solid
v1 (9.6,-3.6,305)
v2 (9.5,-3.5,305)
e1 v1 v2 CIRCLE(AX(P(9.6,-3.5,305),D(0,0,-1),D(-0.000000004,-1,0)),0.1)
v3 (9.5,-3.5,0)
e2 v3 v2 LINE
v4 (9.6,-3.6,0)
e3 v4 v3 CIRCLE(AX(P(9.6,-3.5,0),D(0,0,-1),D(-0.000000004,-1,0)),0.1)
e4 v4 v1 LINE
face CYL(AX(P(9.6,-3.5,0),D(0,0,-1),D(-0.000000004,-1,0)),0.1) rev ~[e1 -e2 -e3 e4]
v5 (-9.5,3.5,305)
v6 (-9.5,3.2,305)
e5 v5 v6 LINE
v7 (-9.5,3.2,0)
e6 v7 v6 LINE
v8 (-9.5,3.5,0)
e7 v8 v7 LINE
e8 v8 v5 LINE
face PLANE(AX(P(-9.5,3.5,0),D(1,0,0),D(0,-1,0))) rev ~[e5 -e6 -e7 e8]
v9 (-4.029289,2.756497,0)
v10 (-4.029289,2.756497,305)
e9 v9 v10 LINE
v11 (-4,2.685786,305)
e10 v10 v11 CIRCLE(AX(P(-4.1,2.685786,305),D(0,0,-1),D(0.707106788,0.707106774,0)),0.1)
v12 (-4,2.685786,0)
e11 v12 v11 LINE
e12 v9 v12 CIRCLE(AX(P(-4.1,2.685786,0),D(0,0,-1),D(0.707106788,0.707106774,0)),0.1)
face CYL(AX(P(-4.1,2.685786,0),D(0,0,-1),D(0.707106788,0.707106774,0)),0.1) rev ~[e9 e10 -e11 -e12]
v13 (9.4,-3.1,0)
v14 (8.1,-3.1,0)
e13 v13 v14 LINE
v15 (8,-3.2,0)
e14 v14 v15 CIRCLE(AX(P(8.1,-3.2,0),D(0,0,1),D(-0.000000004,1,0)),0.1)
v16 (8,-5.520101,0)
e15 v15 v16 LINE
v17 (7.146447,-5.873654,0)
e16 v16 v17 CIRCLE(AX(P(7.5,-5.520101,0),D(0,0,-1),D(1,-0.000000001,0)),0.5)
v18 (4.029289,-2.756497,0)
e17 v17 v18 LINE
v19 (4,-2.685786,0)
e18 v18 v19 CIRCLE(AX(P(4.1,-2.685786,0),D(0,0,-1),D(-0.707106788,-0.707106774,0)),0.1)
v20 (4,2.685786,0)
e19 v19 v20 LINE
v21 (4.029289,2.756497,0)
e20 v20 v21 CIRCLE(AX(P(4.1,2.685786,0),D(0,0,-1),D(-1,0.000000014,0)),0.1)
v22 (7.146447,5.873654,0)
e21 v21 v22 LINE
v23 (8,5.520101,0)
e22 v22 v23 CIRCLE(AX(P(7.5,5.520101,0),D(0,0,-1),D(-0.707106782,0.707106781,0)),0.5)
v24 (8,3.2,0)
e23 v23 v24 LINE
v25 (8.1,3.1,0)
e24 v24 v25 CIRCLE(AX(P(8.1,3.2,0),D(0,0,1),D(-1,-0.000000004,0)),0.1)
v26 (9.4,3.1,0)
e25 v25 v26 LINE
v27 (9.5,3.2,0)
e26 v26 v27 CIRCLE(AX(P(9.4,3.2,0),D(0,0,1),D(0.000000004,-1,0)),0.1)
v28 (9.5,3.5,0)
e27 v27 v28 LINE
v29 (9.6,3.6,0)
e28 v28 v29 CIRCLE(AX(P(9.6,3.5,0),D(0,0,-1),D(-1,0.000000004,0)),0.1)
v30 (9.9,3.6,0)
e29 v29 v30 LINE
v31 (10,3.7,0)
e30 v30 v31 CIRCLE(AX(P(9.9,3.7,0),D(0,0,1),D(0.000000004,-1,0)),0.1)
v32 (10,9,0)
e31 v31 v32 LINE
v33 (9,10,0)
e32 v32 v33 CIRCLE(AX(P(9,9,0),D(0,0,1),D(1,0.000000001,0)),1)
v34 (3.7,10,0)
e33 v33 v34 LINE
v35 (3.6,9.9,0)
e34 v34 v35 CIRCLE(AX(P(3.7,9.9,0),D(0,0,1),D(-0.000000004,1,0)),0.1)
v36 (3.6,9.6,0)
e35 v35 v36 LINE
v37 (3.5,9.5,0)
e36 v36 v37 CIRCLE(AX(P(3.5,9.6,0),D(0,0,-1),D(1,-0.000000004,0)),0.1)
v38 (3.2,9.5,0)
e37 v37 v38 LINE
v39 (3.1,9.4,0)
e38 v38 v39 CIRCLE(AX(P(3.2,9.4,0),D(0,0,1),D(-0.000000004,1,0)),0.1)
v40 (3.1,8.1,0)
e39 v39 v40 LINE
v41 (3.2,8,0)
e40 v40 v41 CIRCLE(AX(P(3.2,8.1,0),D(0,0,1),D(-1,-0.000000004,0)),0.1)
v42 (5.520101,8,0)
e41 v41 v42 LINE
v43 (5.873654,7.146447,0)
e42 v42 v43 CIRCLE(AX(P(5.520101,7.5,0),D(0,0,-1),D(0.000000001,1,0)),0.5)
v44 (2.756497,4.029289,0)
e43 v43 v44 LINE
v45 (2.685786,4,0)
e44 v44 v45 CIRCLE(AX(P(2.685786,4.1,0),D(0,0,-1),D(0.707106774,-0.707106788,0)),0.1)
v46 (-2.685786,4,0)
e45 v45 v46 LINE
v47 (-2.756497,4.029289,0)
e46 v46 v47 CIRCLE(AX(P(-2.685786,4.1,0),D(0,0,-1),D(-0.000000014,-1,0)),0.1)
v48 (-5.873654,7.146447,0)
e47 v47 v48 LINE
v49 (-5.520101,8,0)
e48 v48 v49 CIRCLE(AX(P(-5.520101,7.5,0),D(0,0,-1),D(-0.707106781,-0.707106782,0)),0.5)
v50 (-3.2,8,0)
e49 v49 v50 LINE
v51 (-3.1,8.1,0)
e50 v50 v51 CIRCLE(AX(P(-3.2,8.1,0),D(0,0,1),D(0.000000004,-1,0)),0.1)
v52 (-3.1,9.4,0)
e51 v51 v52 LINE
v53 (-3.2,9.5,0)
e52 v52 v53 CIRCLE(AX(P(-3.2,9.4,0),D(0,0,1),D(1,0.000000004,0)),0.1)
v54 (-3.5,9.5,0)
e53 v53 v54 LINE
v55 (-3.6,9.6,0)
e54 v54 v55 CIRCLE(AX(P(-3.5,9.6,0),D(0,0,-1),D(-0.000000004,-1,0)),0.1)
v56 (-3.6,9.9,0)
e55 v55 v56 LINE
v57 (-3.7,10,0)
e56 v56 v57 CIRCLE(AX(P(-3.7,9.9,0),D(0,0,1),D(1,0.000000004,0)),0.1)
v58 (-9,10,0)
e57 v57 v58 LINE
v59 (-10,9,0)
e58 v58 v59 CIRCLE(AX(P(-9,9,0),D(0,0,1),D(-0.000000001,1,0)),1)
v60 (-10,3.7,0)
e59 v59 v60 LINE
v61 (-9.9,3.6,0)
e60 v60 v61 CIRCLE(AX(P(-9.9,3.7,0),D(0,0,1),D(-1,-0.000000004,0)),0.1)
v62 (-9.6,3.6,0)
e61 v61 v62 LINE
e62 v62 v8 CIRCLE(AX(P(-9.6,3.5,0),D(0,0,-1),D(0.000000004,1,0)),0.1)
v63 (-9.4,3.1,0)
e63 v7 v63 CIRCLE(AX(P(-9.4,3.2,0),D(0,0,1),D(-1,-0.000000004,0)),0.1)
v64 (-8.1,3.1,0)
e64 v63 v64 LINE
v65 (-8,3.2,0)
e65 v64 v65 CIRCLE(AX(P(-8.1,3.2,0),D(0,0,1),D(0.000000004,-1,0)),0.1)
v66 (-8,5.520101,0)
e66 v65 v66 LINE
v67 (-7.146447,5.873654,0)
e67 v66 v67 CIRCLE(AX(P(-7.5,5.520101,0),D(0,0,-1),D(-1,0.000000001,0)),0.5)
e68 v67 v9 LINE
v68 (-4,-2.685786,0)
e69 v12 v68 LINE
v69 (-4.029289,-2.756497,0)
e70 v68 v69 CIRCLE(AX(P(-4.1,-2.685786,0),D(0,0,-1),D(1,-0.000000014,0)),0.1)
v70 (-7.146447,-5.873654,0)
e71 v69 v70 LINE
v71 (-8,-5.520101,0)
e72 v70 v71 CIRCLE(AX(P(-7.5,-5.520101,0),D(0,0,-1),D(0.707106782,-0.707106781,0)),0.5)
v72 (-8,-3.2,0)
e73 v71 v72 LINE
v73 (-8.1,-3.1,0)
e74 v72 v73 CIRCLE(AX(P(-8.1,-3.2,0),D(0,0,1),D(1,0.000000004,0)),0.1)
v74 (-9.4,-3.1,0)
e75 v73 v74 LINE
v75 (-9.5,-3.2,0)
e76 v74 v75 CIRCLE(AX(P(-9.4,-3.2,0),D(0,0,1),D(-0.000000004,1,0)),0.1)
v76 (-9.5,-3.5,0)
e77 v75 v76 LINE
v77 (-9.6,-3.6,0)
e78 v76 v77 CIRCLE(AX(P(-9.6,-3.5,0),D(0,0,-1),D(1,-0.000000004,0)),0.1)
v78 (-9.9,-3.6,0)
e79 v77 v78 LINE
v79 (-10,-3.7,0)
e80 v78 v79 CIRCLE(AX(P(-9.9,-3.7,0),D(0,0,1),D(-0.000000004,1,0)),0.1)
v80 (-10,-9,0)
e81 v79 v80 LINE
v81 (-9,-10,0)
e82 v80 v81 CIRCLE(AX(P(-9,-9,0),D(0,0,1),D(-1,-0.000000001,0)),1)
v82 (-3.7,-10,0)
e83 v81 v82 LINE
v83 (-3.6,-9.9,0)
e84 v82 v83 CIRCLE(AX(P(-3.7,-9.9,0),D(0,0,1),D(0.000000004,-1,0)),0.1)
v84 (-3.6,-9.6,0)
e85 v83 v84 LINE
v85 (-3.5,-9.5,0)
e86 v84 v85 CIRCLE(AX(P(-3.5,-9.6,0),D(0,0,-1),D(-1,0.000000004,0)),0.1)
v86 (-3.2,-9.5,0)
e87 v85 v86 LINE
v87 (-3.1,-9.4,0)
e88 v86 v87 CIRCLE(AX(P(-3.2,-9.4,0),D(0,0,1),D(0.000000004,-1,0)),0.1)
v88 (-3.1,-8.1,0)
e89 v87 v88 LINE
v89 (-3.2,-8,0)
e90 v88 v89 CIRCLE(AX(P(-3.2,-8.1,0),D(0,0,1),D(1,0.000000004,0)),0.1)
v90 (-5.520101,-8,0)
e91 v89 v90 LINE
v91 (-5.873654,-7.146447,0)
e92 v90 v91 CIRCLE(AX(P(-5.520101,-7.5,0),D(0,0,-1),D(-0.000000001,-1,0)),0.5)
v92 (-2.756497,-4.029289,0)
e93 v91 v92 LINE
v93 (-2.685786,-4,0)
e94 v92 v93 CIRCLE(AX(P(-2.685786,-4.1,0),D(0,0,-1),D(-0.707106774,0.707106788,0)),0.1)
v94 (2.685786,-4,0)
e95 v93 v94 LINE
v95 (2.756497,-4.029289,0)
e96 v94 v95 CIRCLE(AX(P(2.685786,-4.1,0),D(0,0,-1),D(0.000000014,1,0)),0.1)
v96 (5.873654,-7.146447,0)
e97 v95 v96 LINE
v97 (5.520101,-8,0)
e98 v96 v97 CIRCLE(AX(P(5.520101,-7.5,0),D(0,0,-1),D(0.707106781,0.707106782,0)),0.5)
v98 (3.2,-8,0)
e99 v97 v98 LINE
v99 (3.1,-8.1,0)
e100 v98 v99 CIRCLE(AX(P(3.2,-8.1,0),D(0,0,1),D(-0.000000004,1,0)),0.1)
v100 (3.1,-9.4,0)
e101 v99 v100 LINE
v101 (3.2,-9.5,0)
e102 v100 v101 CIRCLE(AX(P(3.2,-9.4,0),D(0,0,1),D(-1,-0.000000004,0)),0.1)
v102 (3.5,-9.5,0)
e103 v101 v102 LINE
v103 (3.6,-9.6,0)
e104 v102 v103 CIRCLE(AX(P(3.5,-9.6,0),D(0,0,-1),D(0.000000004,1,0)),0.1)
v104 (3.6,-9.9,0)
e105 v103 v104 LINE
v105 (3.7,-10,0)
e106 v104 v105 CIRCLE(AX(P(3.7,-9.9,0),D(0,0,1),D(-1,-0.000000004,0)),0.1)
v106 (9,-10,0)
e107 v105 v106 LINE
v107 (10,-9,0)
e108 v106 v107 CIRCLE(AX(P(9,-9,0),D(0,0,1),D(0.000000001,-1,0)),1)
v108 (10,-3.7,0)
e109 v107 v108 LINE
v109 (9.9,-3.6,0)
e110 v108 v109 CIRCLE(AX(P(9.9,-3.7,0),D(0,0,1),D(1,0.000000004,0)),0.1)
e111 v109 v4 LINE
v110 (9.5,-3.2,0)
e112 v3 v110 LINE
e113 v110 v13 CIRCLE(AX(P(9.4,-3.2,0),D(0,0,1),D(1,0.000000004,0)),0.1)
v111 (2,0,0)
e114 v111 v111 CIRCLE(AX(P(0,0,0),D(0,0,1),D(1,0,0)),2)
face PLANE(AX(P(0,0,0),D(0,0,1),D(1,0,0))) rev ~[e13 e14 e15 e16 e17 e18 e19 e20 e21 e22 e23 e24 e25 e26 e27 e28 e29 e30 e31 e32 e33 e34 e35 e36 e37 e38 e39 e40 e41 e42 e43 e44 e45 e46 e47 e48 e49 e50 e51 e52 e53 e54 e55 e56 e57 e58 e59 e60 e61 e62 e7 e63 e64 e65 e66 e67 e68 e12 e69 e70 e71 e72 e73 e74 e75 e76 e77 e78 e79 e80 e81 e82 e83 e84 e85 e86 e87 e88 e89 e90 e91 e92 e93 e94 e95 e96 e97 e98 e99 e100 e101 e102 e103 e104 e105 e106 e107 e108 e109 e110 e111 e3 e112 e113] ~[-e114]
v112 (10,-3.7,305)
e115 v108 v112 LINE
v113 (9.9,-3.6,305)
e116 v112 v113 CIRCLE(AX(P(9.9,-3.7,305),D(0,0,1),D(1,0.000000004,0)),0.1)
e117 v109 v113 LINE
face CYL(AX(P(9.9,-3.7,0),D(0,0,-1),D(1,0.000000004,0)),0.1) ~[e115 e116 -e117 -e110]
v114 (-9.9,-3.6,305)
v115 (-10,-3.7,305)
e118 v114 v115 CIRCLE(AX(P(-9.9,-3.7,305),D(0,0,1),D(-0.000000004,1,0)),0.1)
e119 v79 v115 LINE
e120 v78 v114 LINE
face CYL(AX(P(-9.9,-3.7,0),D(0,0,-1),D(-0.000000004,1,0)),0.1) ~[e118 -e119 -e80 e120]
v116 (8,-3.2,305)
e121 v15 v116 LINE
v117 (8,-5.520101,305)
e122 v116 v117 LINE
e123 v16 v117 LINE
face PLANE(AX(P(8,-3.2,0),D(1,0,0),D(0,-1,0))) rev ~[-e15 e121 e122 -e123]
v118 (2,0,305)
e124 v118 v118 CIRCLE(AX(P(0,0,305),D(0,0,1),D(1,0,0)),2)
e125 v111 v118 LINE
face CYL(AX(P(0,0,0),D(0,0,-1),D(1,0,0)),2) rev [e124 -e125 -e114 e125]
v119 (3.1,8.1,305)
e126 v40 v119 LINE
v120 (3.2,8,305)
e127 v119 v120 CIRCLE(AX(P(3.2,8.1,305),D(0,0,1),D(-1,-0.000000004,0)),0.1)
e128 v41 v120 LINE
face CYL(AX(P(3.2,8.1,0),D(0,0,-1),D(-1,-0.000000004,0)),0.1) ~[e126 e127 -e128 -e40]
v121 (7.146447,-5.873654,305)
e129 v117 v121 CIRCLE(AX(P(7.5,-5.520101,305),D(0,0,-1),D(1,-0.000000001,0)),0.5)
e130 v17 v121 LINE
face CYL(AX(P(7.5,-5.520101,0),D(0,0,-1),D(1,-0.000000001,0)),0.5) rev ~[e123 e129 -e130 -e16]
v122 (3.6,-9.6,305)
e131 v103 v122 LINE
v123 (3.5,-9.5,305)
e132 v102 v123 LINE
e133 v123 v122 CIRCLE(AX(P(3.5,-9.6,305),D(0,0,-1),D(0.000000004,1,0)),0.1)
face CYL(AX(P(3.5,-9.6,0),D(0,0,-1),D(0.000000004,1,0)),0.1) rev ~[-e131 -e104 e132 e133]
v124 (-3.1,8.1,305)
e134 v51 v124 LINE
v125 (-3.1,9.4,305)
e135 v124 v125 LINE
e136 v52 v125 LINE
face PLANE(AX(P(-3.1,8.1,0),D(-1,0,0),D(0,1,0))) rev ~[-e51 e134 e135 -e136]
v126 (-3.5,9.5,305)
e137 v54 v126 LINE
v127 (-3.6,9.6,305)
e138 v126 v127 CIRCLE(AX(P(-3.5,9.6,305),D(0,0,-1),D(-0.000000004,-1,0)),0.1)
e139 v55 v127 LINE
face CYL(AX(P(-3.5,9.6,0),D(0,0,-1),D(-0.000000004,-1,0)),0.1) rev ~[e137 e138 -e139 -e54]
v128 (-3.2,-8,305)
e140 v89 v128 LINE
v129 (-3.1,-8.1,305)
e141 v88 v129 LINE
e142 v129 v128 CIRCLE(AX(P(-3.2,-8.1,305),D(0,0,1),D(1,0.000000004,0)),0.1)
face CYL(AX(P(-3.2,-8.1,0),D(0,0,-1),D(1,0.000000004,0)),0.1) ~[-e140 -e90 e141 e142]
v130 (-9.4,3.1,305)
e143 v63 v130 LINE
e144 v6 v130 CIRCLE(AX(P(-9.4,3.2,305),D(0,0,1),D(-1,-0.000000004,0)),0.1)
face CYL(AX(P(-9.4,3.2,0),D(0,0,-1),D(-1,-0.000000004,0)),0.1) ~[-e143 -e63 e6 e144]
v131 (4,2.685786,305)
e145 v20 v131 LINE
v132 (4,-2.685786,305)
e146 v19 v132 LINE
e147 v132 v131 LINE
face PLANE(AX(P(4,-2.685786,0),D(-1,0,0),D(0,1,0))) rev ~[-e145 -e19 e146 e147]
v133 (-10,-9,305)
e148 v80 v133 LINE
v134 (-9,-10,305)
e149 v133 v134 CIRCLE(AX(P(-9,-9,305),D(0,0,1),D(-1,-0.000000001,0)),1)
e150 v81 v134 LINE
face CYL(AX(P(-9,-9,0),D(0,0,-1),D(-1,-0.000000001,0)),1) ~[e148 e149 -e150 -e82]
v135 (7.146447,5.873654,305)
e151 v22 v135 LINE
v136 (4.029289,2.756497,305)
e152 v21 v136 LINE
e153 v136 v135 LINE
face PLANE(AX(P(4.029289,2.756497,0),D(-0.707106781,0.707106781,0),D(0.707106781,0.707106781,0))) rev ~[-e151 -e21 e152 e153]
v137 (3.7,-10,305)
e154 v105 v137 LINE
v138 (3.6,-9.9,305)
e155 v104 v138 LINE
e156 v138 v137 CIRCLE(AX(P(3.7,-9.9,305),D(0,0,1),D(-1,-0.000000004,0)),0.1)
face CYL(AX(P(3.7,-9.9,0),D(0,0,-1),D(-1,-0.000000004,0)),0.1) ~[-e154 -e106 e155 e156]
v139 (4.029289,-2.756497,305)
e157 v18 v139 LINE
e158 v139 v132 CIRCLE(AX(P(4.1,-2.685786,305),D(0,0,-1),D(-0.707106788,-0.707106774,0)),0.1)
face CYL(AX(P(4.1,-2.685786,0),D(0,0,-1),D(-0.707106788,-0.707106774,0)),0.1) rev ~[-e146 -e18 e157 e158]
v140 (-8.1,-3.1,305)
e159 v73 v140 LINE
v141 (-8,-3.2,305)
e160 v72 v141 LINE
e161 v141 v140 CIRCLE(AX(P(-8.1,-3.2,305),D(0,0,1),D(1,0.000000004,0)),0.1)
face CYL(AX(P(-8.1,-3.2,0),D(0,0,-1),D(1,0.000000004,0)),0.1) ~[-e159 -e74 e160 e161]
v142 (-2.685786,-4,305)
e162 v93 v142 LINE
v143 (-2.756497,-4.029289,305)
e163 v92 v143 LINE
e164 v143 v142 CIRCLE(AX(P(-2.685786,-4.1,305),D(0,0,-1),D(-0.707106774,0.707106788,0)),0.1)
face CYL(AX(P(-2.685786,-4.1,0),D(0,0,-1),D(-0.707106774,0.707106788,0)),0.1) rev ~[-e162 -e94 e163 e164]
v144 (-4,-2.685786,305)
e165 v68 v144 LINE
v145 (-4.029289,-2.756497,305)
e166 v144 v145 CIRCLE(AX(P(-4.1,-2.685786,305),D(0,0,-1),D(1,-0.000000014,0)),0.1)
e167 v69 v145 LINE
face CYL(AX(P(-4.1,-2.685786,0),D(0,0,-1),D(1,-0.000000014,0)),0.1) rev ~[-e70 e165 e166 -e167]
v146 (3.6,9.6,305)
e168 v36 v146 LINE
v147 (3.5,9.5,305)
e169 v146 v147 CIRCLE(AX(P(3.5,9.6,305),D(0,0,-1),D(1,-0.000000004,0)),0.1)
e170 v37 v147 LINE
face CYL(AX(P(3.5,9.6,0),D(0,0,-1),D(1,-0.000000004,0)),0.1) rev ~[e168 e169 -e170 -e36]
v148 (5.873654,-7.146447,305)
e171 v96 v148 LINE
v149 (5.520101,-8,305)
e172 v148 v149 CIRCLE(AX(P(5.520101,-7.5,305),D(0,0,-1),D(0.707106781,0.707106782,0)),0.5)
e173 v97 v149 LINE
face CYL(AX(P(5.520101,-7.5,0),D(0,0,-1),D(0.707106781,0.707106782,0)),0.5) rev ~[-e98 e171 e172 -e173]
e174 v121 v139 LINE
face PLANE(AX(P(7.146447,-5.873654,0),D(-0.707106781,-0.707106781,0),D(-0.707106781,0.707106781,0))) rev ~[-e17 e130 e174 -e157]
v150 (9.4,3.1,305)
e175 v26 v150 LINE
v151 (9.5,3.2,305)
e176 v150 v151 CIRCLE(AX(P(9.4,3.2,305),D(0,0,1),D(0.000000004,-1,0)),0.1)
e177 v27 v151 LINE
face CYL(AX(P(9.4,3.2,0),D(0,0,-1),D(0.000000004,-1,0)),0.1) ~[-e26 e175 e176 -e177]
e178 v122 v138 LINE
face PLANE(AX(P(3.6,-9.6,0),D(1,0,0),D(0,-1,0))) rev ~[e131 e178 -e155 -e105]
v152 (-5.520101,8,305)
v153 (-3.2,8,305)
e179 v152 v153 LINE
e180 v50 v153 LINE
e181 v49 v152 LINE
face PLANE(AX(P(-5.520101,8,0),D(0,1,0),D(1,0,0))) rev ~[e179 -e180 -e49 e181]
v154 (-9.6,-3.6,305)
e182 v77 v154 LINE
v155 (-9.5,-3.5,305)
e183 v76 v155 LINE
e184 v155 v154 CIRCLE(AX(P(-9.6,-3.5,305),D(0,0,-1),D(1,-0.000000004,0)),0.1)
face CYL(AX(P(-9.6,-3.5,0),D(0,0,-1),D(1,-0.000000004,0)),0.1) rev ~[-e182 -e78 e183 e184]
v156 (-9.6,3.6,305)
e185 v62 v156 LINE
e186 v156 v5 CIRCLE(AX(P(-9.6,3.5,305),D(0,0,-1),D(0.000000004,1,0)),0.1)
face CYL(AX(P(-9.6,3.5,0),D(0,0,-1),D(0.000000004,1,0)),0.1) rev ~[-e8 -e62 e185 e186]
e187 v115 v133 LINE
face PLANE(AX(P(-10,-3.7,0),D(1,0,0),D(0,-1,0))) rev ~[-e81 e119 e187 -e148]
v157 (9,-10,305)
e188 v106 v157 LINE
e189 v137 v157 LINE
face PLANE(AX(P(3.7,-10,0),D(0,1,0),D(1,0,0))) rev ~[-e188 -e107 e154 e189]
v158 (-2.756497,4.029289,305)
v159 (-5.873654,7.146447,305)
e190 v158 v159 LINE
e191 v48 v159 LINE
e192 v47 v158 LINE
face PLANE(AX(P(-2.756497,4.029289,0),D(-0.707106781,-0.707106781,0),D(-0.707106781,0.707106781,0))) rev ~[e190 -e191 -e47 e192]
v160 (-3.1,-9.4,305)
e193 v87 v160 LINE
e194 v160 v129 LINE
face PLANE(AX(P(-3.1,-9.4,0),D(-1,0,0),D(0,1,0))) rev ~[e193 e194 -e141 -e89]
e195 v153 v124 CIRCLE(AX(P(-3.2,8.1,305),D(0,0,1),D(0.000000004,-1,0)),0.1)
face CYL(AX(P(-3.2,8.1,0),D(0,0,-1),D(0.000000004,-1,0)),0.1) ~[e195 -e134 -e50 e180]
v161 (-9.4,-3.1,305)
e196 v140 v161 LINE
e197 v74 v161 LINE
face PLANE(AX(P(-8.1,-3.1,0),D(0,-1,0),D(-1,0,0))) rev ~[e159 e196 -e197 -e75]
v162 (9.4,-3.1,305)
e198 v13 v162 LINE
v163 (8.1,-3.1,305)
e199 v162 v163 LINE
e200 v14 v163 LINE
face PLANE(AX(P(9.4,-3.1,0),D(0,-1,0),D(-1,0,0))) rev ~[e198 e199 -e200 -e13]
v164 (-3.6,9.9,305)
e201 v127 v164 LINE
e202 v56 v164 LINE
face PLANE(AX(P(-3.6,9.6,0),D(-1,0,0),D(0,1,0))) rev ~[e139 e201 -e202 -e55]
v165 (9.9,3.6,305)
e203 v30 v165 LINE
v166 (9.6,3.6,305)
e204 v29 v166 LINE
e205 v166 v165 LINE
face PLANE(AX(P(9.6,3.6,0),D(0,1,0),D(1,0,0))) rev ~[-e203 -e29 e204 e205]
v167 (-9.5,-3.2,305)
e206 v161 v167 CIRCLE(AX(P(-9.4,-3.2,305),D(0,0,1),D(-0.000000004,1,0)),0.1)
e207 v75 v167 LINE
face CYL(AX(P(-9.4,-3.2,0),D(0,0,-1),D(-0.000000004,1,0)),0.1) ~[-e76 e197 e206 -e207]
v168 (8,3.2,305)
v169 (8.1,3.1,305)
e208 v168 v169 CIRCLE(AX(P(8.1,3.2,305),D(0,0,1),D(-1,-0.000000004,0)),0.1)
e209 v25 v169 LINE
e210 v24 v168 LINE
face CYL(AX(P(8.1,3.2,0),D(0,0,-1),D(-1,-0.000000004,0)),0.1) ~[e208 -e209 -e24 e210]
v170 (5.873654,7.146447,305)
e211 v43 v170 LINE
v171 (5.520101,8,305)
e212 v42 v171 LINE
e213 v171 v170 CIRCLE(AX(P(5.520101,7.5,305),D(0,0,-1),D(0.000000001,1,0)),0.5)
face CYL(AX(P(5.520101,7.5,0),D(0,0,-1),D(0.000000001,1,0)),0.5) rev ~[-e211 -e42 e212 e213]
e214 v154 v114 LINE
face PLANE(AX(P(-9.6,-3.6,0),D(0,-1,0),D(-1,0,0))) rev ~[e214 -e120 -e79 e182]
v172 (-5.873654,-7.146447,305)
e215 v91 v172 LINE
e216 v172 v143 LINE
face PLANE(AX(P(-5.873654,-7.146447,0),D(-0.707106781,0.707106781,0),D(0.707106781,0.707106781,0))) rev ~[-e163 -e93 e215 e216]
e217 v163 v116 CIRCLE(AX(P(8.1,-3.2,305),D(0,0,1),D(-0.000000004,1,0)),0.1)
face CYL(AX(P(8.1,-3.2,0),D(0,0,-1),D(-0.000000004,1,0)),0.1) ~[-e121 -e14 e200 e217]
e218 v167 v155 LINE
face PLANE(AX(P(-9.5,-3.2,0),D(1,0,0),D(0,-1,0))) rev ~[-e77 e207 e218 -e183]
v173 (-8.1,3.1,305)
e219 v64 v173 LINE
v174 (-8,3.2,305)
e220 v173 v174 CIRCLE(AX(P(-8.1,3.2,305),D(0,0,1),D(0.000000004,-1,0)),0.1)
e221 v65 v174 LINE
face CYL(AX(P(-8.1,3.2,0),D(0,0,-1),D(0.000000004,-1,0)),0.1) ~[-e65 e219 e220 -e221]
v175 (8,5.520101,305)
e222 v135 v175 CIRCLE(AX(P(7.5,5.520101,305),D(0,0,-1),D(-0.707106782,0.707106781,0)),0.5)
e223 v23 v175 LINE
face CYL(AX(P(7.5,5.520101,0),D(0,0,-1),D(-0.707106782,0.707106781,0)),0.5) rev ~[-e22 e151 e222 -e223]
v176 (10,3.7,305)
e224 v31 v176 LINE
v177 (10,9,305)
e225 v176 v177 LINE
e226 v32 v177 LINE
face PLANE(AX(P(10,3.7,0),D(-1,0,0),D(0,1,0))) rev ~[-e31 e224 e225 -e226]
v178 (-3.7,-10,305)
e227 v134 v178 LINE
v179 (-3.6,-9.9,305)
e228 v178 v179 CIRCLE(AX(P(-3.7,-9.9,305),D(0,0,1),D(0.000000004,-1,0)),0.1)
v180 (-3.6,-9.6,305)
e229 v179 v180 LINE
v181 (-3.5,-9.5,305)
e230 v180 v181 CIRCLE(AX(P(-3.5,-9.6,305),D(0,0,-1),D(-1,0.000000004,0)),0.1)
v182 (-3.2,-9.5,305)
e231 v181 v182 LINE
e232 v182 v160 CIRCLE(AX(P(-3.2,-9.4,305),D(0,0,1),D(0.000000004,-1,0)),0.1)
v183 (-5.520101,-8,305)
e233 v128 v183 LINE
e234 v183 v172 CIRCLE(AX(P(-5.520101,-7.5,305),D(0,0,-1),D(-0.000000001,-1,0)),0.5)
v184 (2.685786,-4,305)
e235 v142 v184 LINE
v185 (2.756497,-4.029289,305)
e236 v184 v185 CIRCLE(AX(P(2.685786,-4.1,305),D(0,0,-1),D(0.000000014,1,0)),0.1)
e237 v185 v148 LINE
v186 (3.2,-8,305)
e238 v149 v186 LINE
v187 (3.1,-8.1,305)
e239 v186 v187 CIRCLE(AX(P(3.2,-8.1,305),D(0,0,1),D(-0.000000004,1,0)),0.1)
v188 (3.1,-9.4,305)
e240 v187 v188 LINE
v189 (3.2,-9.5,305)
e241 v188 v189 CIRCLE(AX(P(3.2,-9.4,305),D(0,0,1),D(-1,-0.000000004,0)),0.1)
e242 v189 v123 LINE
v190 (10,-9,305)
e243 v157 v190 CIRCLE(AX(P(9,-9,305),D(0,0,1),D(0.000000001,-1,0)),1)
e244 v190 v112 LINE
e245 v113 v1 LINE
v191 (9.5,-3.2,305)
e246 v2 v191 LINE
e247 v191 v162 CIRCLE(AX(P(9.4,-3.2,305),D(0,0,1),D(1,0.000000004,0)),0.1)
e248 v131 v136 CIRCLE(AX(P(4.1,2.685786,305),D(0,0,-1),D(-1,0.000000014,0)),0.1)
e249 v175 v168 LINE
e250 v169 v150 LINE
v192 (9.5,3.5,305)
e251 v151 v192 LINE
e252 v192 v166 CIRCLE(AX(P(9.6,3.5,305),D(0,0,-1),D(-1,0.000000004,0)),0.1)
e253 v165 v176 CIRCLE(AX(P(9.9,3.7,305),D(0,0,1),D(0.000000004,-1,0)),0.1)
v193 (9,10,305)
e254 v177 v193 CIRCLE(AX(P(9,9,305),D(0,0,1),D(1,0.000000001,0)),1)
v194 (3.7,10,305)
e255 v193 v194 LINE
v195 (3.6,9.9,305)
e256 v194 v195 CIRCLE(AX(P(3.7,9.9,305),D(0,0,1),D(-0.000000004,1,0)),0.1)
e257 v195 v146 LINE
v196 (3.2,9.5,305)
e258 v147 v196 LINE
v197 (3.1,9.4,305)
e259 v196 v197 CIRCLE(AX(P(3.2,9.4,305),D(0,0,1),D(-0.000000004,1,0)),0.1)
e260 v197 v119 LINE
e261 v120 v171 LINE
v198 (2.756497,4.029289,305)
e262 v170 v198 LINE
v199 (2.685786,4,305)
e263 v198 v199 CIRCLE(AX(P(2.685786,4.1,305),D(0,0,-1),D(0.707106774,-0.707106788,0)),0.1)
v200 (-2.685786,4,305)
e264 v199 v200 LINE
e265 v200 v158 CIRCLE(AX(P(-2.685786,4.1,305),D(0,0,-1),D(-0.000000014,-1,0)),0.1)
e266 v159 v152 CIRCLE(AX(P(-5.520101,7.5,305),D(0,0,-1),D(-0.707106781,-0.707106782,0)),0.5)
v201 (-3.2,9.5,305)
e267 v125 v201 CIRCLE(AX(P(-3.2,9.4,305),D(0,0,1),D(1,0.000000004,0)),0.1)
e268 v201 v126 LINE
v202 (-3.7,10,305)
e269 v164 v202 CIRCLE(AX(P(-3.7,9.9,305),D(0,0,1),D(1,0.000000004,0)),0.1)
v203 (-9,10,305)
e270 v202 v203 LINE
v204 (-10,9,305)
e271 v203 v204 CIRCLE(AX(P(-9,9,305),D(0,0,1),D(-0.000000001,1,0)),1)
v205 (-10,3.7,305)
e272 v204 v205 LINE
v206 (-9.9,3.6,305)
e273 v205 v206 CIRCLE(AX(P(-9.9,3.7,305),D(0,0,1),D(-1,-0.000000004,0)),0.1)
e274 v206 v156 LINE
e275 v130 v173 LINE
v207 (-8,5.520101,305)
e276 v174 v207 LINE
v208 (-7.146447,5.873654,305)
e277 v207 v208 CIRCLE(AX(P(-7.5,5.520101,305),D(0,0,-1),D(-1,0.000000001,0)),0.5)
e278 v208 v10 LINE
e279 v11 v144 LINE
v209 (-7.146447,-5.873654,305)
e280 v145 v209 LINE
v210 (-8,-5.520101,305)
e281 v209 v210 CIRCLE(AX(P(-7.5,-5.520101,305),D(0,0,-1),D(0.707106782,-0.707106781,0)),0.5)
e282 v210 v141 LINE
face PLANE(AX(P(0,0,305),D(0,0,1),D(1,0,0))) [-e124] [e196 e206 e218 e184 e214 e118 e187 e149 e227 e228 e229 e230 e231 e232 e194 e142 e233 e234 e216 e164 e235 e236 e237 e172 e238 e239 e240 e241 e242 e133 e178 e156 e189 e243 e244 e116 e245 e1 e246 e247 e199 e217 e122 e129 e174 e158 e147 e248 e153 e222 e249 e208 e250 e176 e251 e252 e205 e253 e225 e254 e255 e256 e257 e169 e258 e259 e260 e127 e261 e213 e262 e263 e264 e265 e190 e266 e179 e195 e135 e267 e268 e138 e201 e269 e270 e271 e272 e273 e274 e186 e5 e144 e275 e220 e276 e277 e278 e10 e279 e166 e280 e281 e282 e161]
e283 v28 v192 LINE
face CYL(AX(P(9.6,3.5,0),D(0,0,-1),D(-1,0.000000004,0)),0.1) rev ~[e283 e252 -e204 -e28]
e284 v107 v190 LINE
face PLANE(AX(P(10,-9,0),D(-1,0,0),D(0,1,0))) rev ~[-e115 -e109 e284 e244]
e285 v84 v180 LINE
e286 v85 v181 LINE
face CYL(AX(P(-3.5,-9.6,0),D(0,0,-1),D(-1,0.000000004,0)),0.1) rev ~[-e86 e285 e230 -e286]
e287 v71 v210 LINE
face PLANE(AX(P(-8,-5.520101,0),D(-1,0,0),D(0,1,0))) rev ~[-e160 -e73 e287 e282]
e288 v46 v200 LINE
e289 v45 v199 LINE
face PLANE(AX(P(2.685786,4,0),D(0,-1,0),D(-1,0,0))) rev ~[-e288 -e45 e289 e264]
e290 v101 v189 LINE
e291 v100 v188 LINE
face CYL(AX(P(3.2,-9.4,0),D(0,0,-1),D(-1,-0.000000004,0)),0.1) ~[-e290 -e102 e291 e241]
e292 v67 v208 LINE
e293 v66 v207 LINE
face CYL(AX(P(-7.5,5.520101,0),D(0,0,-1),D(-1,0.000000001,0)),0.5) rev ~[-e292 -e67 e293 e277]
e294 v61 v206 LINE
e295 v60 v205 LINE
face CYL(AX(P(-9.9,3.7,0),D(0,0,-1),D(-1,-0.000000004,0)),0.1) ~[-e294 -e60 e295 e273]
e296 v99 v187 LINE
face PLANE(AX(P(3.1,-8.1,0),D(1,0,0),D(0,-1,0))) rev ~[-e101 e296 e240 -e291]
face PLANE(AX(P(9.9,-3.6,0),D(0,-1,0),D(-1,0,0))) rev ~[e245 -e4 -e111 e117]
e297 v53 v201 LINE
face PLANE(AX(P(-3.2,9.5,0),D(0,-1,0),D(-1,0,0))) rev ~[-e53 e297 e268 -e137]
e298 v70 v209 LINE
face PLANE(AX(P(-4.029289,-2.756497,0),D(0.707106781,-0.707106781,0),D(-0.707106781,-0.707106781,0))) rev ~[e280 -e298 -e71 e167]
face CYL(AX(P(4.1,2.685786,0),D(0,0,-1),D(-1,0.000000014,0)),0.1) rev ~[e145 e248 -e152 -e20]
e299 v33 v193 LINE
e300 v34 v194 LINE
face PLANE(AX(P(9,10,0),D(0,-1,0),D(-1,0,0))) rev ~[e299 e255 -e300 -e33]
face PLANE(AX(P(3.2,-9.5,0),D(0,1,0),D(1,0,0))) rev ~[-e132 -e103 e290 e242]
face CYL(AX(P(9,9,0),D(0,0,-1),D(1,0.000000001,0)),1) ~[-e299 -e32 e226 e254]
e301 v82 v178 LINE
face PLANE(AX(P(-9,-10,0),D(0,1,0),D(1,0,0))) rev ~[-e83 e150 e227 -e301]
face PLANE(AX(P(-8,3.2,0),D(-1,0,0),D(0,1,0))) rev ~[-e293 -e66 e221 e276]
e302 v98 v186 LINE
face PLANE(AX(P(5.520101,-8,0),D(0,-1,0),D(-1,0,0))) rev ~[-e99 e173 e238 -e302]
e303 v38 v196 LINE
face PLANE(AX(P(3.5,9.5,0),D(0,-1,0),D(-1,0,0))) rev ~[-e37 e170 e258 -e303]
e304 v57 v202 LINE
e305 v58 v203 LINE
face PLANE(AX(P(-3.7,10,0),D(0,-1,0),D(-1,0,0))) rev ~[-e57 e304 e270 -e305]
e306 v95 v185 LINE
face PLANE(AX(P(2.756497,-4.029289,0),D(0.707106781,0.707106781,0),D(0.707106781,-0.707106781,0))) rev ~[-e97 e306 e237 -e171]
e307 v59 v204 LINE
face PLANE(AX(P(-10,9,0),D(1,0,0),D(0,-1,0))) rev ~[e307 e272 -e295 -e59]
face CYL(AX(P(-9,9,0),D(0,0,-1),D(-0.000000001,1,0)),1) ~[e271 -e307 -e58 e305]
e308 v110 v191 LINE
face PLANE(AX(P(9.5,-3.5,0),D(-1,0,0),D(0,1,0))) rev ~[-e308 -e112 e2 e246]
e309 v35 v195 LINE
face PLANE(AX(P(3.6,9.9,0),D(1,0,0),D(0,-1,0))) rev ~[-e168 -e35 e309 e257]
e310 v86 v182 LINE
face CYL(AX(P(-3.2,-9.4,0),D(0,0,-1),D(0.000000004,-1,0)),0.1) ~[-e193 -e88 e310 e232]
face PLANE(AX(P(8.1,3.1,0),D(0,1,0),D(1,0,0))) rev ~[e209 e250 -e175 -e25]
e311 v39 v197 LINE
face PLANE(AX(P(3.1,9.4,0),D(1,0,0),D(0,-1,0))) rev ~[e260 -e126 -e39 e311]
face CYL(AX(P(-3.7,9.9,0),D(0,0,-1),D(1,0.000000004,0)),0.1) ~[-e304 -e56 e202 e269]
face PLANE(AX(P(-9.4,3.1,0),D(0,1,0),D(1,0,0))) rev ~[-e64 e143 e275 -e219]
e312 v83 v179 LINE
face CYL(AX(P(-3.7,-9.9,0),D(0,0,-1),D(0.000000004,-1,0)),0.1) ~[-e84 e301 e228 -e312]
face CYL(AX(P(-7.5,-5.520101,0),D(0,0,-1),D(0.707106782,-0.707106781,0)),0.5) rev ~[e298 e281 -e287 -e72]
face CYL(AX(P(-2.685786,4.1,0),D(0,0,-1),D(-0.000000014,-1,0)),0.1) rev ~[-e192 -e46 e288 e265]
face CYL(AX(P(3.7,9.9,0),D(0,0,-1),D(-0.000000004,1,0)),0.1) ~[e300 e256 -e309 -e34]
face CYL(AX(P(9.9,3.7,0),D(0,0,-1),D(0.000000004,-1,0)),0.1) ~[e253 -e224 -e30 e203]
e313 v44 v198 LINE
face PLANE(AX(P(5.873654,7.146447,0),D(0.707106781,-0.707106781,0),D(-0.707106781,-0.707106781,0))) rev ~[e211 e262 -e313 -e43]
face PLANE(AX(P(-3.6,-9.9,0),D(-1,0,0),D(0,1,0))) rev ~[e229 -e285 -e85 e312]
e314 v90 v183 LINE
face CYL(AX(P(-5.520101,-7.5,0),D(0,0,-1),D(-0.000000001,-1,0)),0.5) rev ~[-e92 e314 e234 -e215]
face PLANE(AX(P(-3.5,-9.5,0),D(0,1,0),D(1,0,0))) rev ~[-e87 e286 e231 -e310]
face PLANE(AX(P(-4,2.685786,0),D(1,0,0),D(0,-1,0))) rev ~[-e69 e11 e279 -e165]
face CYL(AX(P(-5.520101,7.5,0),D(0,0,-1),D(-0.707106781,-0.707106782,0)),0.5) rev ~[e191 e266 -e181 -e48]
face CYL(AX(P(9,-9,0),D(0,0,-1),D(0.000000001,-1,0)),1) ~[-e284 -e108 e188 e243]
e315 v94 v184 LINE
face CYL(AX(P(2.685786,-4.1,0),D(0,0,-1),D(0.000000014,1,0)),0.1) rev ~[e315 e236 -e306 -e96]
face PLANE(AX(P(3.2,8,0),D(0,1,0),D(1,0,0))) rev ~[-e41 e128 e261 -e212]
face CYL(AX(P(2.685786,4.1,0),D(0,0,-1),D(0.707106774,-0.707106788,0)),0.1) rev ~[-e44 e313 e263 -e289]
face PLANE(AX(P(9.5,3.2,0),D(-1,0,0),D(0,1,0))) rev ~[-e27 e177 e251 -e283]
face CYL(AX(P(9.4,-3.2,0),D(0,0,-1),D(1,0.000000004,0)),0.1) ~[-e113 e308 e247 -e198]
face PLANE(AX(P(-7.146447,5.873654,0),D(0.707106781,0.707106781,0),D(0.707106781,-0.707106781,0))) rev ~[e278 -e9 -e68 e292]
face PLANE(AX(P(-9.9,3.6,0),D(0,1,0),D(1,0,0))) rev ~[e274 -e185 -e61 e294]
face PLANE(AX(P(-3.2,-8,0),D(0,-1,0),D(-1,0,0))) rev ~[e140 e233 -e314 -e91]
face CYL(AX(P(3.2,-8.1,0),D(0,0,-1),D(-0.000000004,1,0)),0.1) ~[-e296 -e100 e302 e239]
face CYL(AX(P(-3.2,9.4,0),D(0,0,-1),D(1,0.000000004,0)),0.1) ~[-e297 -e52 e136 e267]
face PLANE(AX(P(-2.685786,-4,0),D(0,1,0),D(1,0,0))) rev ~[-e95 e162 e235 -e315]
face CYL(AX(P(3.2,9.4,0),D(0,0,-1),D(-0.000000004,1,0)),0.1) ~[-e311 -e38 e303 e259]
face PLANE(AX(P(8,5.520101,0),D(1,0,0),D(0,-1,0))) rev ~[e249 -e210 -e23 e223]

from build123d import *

# Parameters (mm, degrees)
SKETCH1_R           = 2
BOSS_EXTRUDE1_DEPTH = 305


with BuildPart() as part:
    # Sketch1 → Boss-Extrude1 (new body)
    with BuildSketch(Plane.XY):
        with BuildLine():
            Line((-10, 9), (-10, 3.7))
            ThreePointArc((-10, 3.7), (-9.970710678, 3.629289322), (-9.9, 3.6))
            Line((-9.9, 3.6), (-9.6, 3.6))
            ThreePointArc((-9.6, 3.6), (-9.529289322, 3.570710678), (-9.5, 3.5))
            Line((-9.5, 3.5), (-9.5, 3.2))
            ThreePointArc((-9.5, 3.2), (-9.470710678, 3.129289322), (-9.4, 3.1))
            Line((-9.4, 3.1), (-8.1, 3.1))
            ThreePointArc((-8.1, 3.1), (-8.029289322, 3.129289322), (-8, 3.2))
            Line((-8, 3.2), (-8, 5.520101013))
            ThreePointArc((-8, 5.520101013), (-7.691341716, 5.982040779), (-7.146446609, 5.873654403))
            Line((-7.146446609, 5.873654403), (-4.029289322, 2.756497116))
            ThreePointArc((-4.029289322, 2.756497116), (-4.007612047, 2.724054781), (-4, 2.685786438))
            Line((-4, 2.685786438), (-4, 0))
            Line((-4, 0), (-4, -2.685786438))
            ThreePointArc((-4, -2.685786438), (-4.007612047, -2.724054781), (-4.029289322, -2.756497116))
            Line((-4.029289322, -2.756497116), (-7.146446609, -5.873654403))
            ThreePointArc((-7.146446609, -5.873654403), (-7.691341716, -5.982040779), (-8, -5.520101013))
            Line((-8, -5.520101013), (-8, -3.2))
            ThreePointArc((-8, -3.2), (-8.029289322, -3.129289322), (-8.1, -3.1))
            Line((-8.1, -3.1), (-9.4, -3.1))
            ThreePointArc((-9.4, -3.1), (-9.470710678, -3.129289322), (-9.5, -3.2))
            Line((-9.5, -3.2), (-9.5, -3.5))
            ThreePointArc((-9.5, -3.5), (-9.529289322, -3.570710678), (-9.6, -3.6))
            Line((-9.6, -3.6), (-9.9, -3.6))
            ThreePointArc((-9.9, -3.6), (-9.970710678, -3.629289322), (-10, -3.7))
            Line((-10, -3.7), (-10, -9))
            ThreePointArc((-10, -9), (-9.707106781, -9.707106781), (-9, -10))
            Line((-9, -10), (-3.7, -10))
            ThreePointArc((-3.7, -10), (-3.629289322, -9.970710678), (-3.6, -9.9))
            Line((-3.6, -9.9), (-3.6, -9.6))
            ThreePointArc((-3.6, -9.6), (-3.570710678, -9.529289322), (-3.5, -9.5))
            Line((-3.5, -9.5), (-3.2, -9.5))
            ThreePointArc((-3.2, -9.5), (-3.129289322, -9.470710678), (-3.1, -9.4))
            Line((-3.1, -9.4), (-3.1, -8.1))
            ThreePointArc((-3.1, -8.1), (-3.129289322, -8.029289322), (-3.2, -8))
            Line((-3.2, -8), (-5.520101013, -8))
            ThreePointArc((-5.520101013, -8), (-5.982040779, -7.691341716), (-5.873654403, -7.146446609))
            Line((-5.873654403, -7.146446609), (-2.756497116, -4.029289322))
            ThreePointArc((-2.756497116, -4.029289322), (-2.724054781, -4.007612047), (-2.685786438, -4))
            Line((-2.685786438, -4), (2.685786438, -4))
            ThreePointArc((2.685786438, -4), (2.724054781, -4.007612047), (2.756497116, -4.029289322))
            Line((2.756497116, -4.029289322), (5.873654403, -7.146446609))
            ThreePointArc((5.873654403, -7.146446609), (5.982040779, -7.691341716), (5.520101013, -8))
            Line((5.520101013, -8), (3.2, -8))
            ThreePointArc((3.2, -8), (3.129289322, -8.029289322), (3.1, -8.1))
            Line((3.1, -8.1), (3.1, -9.4))
            ThreePointArc((3.1, -9.4), (3.129289322, -9.470710678), (3.2, -9.5))
            Line((3.2, -9.5), (3.5, -9.5))
            ThreePointArc((3.5, -9.5), (3.570710678, -9.529289322), (3.6, -9.6))
            Line((3.6, -9.6), (3.6, -9.9))
            ThreePointArc((3.6, -9.9), (3.629289322, -9.970710678), (3.7, -10))
            Line((3.7, -10), (9, -10))
            ThreePointArc((9, -10), (9.707106781, -9.707106781), (10, -9))
            Line((10, -9), (10, -3.7))
            ThreePointArc((10, -3.7), (9.970710678, -3.629289322), (9.9, -3.6))
            Line((9.9, -3.6), (9.6, -3.6))
            ThreePointArc((9.6, -3.6), (9.529289322, -3.570710678), (9.5, -3.5))
            Line((9.5, -3.5), (9.5, -3.2))
            ThreePointArc((9.5, -3.2), (9.470710678, -3.129289322), (9.4, -3.1))
            Line((9.4, -3.1), (8.1, -3.1))
            ThreePointArc((8.1, -3.1), (8.029289322, -3.129289322), (8, -3.2))
            Line((8, -3.2), (8, -5.520101013))
            ThreePointArc((8, -5.520101013), (7.691341716, -5.982040779), (7.146446609, -5.873654403))
            Line((7.146446609, -5.873654403), (4.029289322, -2.756497116))
            ThreePointArc((4.029289322, -2.756497116), (4.007612047, -2.724054781), (4, -2.685786438))
            Line((4, -2.685786438), (4, 0))
            Line((4, 0), (4, 2.685786438))
            ThreePointArc((4, 2.685786438), (4.007612047, 2.724054781), (4.029289322, 2.756497116))
            Line((4.029289322, 2.756497116), (7.146446609, 5.873654403))
            ThreePointArc((7.146446609, 5.873654403), (7.691341716, 5.982040779), (8, 5.520101013))
            Line((8, 5.520101013), (8, 3.2))
            ThreePointArc((8, 3.2), (8.029289322, 3.129289322), (8.1, 3.1))
            Line((8.1, 3.1), (9.4, 3.1))
            ThreePointArc((9.4, 3.1), (9.470710678, 3.129289322), (9.5, 3.2))
            Line((9.5, 3.2), (9.5, 3.5))
            ThreePointArc((9.5, 3.5), (9.529289322, 3.570710678), (9.6, 3.6))
            Line((9.6, 3.6), (9.9, 3.6))
            ThreePointArc((9.9, 3.6), (9.970710678, 3.629289322), (10, 3.7))
            Line((10, 3.7), (10, 9))
            ThreePointArc((10, 9), (9.707106781, 9.707106781), (9, 10))
            Line((9, 10), (3.7, 10))
            ThreePointArc((3.7, 10), (3.629289322, 9.970710678), (3.6, 9.9))
            Line((3.6, 9.9), (3.6, 9.6))
            ThreePointArc((3.6, 9.6), (3.570710678, 9.529289322), (3.5, 9.5))
            Line((3.5, 9.5), (3.2, 9.5))
            ThreePointArc((3.2, 9.5), (3.129289322, 9.470710678), (3.1, 9.4))
            Line((3.1, 9.4), (3.1, 8.1))
            ThreePointArc((3.1, 8.1), (3.129289322, 8.029289322), (3.2, 8))
            Line((3.2, 8), (5.520101013, 8))
            ThreePointArc((5.520101013, 8), (5.982040779, 7.691341716), (5.873654403, 7.146446609))
            Line((5.873654403, 7.146446609), (2.756497116, 4.029289322))
            ThreePointArc((2.756497116, 4.029289322), (2.724054781, 4.007612047), (2.685786438, 4))
            Line((2.685786438, 4), (-2.685786438, 4))
            ThreePointArc((-2.685786438, 4), (-2.724054781, 4.007612047), (-2.756497116, 4.029289322))
            Line((-2.756497116, 4.029289322), (-5.873654403, 7.146446609))
            ThreePointArc((-5.873654403, 7.146446609), (-5.982040779, 7.691341716), (-5.520101013, 8))
            Line((-5.520101013, 8), (-3.2, 8))
            ThreePointArc((-3.2, 8), (-3.129289322, 8.029289322), (-3.1, 8.1))
            Line((-3.1, 8.1), (-3.1, 9.4))
            ThreePointArc((-3.1, 9.4), (-3.129289322, 9.470710678), (-3.2, 9.5))
            Line((-3.2, 9.5), (-3.5, 9.5))
            ThreePointArc((-3.5, 9.5), (-3.570710678, 9.529289322), (-3.6, 9.6))
            Line((-3.6, 9.6), (-3.6, 9.9))
            ThreePointArc((-3.6, 9.9), (-3.629289322, 9.970710678), (-3.7, 10))
            Line((-3.7, 10), (-9, 10))
            ThreePointArc((-9, 10), (-9.707106781, 9.707106781), (-10, 9))
        make_face()
        Circle(SKETCH1_R, mode=Mode.SUBTRACT)
    extrude(amount=BOSS_EXTRUDE1_DEPTH)


solid = part.part
